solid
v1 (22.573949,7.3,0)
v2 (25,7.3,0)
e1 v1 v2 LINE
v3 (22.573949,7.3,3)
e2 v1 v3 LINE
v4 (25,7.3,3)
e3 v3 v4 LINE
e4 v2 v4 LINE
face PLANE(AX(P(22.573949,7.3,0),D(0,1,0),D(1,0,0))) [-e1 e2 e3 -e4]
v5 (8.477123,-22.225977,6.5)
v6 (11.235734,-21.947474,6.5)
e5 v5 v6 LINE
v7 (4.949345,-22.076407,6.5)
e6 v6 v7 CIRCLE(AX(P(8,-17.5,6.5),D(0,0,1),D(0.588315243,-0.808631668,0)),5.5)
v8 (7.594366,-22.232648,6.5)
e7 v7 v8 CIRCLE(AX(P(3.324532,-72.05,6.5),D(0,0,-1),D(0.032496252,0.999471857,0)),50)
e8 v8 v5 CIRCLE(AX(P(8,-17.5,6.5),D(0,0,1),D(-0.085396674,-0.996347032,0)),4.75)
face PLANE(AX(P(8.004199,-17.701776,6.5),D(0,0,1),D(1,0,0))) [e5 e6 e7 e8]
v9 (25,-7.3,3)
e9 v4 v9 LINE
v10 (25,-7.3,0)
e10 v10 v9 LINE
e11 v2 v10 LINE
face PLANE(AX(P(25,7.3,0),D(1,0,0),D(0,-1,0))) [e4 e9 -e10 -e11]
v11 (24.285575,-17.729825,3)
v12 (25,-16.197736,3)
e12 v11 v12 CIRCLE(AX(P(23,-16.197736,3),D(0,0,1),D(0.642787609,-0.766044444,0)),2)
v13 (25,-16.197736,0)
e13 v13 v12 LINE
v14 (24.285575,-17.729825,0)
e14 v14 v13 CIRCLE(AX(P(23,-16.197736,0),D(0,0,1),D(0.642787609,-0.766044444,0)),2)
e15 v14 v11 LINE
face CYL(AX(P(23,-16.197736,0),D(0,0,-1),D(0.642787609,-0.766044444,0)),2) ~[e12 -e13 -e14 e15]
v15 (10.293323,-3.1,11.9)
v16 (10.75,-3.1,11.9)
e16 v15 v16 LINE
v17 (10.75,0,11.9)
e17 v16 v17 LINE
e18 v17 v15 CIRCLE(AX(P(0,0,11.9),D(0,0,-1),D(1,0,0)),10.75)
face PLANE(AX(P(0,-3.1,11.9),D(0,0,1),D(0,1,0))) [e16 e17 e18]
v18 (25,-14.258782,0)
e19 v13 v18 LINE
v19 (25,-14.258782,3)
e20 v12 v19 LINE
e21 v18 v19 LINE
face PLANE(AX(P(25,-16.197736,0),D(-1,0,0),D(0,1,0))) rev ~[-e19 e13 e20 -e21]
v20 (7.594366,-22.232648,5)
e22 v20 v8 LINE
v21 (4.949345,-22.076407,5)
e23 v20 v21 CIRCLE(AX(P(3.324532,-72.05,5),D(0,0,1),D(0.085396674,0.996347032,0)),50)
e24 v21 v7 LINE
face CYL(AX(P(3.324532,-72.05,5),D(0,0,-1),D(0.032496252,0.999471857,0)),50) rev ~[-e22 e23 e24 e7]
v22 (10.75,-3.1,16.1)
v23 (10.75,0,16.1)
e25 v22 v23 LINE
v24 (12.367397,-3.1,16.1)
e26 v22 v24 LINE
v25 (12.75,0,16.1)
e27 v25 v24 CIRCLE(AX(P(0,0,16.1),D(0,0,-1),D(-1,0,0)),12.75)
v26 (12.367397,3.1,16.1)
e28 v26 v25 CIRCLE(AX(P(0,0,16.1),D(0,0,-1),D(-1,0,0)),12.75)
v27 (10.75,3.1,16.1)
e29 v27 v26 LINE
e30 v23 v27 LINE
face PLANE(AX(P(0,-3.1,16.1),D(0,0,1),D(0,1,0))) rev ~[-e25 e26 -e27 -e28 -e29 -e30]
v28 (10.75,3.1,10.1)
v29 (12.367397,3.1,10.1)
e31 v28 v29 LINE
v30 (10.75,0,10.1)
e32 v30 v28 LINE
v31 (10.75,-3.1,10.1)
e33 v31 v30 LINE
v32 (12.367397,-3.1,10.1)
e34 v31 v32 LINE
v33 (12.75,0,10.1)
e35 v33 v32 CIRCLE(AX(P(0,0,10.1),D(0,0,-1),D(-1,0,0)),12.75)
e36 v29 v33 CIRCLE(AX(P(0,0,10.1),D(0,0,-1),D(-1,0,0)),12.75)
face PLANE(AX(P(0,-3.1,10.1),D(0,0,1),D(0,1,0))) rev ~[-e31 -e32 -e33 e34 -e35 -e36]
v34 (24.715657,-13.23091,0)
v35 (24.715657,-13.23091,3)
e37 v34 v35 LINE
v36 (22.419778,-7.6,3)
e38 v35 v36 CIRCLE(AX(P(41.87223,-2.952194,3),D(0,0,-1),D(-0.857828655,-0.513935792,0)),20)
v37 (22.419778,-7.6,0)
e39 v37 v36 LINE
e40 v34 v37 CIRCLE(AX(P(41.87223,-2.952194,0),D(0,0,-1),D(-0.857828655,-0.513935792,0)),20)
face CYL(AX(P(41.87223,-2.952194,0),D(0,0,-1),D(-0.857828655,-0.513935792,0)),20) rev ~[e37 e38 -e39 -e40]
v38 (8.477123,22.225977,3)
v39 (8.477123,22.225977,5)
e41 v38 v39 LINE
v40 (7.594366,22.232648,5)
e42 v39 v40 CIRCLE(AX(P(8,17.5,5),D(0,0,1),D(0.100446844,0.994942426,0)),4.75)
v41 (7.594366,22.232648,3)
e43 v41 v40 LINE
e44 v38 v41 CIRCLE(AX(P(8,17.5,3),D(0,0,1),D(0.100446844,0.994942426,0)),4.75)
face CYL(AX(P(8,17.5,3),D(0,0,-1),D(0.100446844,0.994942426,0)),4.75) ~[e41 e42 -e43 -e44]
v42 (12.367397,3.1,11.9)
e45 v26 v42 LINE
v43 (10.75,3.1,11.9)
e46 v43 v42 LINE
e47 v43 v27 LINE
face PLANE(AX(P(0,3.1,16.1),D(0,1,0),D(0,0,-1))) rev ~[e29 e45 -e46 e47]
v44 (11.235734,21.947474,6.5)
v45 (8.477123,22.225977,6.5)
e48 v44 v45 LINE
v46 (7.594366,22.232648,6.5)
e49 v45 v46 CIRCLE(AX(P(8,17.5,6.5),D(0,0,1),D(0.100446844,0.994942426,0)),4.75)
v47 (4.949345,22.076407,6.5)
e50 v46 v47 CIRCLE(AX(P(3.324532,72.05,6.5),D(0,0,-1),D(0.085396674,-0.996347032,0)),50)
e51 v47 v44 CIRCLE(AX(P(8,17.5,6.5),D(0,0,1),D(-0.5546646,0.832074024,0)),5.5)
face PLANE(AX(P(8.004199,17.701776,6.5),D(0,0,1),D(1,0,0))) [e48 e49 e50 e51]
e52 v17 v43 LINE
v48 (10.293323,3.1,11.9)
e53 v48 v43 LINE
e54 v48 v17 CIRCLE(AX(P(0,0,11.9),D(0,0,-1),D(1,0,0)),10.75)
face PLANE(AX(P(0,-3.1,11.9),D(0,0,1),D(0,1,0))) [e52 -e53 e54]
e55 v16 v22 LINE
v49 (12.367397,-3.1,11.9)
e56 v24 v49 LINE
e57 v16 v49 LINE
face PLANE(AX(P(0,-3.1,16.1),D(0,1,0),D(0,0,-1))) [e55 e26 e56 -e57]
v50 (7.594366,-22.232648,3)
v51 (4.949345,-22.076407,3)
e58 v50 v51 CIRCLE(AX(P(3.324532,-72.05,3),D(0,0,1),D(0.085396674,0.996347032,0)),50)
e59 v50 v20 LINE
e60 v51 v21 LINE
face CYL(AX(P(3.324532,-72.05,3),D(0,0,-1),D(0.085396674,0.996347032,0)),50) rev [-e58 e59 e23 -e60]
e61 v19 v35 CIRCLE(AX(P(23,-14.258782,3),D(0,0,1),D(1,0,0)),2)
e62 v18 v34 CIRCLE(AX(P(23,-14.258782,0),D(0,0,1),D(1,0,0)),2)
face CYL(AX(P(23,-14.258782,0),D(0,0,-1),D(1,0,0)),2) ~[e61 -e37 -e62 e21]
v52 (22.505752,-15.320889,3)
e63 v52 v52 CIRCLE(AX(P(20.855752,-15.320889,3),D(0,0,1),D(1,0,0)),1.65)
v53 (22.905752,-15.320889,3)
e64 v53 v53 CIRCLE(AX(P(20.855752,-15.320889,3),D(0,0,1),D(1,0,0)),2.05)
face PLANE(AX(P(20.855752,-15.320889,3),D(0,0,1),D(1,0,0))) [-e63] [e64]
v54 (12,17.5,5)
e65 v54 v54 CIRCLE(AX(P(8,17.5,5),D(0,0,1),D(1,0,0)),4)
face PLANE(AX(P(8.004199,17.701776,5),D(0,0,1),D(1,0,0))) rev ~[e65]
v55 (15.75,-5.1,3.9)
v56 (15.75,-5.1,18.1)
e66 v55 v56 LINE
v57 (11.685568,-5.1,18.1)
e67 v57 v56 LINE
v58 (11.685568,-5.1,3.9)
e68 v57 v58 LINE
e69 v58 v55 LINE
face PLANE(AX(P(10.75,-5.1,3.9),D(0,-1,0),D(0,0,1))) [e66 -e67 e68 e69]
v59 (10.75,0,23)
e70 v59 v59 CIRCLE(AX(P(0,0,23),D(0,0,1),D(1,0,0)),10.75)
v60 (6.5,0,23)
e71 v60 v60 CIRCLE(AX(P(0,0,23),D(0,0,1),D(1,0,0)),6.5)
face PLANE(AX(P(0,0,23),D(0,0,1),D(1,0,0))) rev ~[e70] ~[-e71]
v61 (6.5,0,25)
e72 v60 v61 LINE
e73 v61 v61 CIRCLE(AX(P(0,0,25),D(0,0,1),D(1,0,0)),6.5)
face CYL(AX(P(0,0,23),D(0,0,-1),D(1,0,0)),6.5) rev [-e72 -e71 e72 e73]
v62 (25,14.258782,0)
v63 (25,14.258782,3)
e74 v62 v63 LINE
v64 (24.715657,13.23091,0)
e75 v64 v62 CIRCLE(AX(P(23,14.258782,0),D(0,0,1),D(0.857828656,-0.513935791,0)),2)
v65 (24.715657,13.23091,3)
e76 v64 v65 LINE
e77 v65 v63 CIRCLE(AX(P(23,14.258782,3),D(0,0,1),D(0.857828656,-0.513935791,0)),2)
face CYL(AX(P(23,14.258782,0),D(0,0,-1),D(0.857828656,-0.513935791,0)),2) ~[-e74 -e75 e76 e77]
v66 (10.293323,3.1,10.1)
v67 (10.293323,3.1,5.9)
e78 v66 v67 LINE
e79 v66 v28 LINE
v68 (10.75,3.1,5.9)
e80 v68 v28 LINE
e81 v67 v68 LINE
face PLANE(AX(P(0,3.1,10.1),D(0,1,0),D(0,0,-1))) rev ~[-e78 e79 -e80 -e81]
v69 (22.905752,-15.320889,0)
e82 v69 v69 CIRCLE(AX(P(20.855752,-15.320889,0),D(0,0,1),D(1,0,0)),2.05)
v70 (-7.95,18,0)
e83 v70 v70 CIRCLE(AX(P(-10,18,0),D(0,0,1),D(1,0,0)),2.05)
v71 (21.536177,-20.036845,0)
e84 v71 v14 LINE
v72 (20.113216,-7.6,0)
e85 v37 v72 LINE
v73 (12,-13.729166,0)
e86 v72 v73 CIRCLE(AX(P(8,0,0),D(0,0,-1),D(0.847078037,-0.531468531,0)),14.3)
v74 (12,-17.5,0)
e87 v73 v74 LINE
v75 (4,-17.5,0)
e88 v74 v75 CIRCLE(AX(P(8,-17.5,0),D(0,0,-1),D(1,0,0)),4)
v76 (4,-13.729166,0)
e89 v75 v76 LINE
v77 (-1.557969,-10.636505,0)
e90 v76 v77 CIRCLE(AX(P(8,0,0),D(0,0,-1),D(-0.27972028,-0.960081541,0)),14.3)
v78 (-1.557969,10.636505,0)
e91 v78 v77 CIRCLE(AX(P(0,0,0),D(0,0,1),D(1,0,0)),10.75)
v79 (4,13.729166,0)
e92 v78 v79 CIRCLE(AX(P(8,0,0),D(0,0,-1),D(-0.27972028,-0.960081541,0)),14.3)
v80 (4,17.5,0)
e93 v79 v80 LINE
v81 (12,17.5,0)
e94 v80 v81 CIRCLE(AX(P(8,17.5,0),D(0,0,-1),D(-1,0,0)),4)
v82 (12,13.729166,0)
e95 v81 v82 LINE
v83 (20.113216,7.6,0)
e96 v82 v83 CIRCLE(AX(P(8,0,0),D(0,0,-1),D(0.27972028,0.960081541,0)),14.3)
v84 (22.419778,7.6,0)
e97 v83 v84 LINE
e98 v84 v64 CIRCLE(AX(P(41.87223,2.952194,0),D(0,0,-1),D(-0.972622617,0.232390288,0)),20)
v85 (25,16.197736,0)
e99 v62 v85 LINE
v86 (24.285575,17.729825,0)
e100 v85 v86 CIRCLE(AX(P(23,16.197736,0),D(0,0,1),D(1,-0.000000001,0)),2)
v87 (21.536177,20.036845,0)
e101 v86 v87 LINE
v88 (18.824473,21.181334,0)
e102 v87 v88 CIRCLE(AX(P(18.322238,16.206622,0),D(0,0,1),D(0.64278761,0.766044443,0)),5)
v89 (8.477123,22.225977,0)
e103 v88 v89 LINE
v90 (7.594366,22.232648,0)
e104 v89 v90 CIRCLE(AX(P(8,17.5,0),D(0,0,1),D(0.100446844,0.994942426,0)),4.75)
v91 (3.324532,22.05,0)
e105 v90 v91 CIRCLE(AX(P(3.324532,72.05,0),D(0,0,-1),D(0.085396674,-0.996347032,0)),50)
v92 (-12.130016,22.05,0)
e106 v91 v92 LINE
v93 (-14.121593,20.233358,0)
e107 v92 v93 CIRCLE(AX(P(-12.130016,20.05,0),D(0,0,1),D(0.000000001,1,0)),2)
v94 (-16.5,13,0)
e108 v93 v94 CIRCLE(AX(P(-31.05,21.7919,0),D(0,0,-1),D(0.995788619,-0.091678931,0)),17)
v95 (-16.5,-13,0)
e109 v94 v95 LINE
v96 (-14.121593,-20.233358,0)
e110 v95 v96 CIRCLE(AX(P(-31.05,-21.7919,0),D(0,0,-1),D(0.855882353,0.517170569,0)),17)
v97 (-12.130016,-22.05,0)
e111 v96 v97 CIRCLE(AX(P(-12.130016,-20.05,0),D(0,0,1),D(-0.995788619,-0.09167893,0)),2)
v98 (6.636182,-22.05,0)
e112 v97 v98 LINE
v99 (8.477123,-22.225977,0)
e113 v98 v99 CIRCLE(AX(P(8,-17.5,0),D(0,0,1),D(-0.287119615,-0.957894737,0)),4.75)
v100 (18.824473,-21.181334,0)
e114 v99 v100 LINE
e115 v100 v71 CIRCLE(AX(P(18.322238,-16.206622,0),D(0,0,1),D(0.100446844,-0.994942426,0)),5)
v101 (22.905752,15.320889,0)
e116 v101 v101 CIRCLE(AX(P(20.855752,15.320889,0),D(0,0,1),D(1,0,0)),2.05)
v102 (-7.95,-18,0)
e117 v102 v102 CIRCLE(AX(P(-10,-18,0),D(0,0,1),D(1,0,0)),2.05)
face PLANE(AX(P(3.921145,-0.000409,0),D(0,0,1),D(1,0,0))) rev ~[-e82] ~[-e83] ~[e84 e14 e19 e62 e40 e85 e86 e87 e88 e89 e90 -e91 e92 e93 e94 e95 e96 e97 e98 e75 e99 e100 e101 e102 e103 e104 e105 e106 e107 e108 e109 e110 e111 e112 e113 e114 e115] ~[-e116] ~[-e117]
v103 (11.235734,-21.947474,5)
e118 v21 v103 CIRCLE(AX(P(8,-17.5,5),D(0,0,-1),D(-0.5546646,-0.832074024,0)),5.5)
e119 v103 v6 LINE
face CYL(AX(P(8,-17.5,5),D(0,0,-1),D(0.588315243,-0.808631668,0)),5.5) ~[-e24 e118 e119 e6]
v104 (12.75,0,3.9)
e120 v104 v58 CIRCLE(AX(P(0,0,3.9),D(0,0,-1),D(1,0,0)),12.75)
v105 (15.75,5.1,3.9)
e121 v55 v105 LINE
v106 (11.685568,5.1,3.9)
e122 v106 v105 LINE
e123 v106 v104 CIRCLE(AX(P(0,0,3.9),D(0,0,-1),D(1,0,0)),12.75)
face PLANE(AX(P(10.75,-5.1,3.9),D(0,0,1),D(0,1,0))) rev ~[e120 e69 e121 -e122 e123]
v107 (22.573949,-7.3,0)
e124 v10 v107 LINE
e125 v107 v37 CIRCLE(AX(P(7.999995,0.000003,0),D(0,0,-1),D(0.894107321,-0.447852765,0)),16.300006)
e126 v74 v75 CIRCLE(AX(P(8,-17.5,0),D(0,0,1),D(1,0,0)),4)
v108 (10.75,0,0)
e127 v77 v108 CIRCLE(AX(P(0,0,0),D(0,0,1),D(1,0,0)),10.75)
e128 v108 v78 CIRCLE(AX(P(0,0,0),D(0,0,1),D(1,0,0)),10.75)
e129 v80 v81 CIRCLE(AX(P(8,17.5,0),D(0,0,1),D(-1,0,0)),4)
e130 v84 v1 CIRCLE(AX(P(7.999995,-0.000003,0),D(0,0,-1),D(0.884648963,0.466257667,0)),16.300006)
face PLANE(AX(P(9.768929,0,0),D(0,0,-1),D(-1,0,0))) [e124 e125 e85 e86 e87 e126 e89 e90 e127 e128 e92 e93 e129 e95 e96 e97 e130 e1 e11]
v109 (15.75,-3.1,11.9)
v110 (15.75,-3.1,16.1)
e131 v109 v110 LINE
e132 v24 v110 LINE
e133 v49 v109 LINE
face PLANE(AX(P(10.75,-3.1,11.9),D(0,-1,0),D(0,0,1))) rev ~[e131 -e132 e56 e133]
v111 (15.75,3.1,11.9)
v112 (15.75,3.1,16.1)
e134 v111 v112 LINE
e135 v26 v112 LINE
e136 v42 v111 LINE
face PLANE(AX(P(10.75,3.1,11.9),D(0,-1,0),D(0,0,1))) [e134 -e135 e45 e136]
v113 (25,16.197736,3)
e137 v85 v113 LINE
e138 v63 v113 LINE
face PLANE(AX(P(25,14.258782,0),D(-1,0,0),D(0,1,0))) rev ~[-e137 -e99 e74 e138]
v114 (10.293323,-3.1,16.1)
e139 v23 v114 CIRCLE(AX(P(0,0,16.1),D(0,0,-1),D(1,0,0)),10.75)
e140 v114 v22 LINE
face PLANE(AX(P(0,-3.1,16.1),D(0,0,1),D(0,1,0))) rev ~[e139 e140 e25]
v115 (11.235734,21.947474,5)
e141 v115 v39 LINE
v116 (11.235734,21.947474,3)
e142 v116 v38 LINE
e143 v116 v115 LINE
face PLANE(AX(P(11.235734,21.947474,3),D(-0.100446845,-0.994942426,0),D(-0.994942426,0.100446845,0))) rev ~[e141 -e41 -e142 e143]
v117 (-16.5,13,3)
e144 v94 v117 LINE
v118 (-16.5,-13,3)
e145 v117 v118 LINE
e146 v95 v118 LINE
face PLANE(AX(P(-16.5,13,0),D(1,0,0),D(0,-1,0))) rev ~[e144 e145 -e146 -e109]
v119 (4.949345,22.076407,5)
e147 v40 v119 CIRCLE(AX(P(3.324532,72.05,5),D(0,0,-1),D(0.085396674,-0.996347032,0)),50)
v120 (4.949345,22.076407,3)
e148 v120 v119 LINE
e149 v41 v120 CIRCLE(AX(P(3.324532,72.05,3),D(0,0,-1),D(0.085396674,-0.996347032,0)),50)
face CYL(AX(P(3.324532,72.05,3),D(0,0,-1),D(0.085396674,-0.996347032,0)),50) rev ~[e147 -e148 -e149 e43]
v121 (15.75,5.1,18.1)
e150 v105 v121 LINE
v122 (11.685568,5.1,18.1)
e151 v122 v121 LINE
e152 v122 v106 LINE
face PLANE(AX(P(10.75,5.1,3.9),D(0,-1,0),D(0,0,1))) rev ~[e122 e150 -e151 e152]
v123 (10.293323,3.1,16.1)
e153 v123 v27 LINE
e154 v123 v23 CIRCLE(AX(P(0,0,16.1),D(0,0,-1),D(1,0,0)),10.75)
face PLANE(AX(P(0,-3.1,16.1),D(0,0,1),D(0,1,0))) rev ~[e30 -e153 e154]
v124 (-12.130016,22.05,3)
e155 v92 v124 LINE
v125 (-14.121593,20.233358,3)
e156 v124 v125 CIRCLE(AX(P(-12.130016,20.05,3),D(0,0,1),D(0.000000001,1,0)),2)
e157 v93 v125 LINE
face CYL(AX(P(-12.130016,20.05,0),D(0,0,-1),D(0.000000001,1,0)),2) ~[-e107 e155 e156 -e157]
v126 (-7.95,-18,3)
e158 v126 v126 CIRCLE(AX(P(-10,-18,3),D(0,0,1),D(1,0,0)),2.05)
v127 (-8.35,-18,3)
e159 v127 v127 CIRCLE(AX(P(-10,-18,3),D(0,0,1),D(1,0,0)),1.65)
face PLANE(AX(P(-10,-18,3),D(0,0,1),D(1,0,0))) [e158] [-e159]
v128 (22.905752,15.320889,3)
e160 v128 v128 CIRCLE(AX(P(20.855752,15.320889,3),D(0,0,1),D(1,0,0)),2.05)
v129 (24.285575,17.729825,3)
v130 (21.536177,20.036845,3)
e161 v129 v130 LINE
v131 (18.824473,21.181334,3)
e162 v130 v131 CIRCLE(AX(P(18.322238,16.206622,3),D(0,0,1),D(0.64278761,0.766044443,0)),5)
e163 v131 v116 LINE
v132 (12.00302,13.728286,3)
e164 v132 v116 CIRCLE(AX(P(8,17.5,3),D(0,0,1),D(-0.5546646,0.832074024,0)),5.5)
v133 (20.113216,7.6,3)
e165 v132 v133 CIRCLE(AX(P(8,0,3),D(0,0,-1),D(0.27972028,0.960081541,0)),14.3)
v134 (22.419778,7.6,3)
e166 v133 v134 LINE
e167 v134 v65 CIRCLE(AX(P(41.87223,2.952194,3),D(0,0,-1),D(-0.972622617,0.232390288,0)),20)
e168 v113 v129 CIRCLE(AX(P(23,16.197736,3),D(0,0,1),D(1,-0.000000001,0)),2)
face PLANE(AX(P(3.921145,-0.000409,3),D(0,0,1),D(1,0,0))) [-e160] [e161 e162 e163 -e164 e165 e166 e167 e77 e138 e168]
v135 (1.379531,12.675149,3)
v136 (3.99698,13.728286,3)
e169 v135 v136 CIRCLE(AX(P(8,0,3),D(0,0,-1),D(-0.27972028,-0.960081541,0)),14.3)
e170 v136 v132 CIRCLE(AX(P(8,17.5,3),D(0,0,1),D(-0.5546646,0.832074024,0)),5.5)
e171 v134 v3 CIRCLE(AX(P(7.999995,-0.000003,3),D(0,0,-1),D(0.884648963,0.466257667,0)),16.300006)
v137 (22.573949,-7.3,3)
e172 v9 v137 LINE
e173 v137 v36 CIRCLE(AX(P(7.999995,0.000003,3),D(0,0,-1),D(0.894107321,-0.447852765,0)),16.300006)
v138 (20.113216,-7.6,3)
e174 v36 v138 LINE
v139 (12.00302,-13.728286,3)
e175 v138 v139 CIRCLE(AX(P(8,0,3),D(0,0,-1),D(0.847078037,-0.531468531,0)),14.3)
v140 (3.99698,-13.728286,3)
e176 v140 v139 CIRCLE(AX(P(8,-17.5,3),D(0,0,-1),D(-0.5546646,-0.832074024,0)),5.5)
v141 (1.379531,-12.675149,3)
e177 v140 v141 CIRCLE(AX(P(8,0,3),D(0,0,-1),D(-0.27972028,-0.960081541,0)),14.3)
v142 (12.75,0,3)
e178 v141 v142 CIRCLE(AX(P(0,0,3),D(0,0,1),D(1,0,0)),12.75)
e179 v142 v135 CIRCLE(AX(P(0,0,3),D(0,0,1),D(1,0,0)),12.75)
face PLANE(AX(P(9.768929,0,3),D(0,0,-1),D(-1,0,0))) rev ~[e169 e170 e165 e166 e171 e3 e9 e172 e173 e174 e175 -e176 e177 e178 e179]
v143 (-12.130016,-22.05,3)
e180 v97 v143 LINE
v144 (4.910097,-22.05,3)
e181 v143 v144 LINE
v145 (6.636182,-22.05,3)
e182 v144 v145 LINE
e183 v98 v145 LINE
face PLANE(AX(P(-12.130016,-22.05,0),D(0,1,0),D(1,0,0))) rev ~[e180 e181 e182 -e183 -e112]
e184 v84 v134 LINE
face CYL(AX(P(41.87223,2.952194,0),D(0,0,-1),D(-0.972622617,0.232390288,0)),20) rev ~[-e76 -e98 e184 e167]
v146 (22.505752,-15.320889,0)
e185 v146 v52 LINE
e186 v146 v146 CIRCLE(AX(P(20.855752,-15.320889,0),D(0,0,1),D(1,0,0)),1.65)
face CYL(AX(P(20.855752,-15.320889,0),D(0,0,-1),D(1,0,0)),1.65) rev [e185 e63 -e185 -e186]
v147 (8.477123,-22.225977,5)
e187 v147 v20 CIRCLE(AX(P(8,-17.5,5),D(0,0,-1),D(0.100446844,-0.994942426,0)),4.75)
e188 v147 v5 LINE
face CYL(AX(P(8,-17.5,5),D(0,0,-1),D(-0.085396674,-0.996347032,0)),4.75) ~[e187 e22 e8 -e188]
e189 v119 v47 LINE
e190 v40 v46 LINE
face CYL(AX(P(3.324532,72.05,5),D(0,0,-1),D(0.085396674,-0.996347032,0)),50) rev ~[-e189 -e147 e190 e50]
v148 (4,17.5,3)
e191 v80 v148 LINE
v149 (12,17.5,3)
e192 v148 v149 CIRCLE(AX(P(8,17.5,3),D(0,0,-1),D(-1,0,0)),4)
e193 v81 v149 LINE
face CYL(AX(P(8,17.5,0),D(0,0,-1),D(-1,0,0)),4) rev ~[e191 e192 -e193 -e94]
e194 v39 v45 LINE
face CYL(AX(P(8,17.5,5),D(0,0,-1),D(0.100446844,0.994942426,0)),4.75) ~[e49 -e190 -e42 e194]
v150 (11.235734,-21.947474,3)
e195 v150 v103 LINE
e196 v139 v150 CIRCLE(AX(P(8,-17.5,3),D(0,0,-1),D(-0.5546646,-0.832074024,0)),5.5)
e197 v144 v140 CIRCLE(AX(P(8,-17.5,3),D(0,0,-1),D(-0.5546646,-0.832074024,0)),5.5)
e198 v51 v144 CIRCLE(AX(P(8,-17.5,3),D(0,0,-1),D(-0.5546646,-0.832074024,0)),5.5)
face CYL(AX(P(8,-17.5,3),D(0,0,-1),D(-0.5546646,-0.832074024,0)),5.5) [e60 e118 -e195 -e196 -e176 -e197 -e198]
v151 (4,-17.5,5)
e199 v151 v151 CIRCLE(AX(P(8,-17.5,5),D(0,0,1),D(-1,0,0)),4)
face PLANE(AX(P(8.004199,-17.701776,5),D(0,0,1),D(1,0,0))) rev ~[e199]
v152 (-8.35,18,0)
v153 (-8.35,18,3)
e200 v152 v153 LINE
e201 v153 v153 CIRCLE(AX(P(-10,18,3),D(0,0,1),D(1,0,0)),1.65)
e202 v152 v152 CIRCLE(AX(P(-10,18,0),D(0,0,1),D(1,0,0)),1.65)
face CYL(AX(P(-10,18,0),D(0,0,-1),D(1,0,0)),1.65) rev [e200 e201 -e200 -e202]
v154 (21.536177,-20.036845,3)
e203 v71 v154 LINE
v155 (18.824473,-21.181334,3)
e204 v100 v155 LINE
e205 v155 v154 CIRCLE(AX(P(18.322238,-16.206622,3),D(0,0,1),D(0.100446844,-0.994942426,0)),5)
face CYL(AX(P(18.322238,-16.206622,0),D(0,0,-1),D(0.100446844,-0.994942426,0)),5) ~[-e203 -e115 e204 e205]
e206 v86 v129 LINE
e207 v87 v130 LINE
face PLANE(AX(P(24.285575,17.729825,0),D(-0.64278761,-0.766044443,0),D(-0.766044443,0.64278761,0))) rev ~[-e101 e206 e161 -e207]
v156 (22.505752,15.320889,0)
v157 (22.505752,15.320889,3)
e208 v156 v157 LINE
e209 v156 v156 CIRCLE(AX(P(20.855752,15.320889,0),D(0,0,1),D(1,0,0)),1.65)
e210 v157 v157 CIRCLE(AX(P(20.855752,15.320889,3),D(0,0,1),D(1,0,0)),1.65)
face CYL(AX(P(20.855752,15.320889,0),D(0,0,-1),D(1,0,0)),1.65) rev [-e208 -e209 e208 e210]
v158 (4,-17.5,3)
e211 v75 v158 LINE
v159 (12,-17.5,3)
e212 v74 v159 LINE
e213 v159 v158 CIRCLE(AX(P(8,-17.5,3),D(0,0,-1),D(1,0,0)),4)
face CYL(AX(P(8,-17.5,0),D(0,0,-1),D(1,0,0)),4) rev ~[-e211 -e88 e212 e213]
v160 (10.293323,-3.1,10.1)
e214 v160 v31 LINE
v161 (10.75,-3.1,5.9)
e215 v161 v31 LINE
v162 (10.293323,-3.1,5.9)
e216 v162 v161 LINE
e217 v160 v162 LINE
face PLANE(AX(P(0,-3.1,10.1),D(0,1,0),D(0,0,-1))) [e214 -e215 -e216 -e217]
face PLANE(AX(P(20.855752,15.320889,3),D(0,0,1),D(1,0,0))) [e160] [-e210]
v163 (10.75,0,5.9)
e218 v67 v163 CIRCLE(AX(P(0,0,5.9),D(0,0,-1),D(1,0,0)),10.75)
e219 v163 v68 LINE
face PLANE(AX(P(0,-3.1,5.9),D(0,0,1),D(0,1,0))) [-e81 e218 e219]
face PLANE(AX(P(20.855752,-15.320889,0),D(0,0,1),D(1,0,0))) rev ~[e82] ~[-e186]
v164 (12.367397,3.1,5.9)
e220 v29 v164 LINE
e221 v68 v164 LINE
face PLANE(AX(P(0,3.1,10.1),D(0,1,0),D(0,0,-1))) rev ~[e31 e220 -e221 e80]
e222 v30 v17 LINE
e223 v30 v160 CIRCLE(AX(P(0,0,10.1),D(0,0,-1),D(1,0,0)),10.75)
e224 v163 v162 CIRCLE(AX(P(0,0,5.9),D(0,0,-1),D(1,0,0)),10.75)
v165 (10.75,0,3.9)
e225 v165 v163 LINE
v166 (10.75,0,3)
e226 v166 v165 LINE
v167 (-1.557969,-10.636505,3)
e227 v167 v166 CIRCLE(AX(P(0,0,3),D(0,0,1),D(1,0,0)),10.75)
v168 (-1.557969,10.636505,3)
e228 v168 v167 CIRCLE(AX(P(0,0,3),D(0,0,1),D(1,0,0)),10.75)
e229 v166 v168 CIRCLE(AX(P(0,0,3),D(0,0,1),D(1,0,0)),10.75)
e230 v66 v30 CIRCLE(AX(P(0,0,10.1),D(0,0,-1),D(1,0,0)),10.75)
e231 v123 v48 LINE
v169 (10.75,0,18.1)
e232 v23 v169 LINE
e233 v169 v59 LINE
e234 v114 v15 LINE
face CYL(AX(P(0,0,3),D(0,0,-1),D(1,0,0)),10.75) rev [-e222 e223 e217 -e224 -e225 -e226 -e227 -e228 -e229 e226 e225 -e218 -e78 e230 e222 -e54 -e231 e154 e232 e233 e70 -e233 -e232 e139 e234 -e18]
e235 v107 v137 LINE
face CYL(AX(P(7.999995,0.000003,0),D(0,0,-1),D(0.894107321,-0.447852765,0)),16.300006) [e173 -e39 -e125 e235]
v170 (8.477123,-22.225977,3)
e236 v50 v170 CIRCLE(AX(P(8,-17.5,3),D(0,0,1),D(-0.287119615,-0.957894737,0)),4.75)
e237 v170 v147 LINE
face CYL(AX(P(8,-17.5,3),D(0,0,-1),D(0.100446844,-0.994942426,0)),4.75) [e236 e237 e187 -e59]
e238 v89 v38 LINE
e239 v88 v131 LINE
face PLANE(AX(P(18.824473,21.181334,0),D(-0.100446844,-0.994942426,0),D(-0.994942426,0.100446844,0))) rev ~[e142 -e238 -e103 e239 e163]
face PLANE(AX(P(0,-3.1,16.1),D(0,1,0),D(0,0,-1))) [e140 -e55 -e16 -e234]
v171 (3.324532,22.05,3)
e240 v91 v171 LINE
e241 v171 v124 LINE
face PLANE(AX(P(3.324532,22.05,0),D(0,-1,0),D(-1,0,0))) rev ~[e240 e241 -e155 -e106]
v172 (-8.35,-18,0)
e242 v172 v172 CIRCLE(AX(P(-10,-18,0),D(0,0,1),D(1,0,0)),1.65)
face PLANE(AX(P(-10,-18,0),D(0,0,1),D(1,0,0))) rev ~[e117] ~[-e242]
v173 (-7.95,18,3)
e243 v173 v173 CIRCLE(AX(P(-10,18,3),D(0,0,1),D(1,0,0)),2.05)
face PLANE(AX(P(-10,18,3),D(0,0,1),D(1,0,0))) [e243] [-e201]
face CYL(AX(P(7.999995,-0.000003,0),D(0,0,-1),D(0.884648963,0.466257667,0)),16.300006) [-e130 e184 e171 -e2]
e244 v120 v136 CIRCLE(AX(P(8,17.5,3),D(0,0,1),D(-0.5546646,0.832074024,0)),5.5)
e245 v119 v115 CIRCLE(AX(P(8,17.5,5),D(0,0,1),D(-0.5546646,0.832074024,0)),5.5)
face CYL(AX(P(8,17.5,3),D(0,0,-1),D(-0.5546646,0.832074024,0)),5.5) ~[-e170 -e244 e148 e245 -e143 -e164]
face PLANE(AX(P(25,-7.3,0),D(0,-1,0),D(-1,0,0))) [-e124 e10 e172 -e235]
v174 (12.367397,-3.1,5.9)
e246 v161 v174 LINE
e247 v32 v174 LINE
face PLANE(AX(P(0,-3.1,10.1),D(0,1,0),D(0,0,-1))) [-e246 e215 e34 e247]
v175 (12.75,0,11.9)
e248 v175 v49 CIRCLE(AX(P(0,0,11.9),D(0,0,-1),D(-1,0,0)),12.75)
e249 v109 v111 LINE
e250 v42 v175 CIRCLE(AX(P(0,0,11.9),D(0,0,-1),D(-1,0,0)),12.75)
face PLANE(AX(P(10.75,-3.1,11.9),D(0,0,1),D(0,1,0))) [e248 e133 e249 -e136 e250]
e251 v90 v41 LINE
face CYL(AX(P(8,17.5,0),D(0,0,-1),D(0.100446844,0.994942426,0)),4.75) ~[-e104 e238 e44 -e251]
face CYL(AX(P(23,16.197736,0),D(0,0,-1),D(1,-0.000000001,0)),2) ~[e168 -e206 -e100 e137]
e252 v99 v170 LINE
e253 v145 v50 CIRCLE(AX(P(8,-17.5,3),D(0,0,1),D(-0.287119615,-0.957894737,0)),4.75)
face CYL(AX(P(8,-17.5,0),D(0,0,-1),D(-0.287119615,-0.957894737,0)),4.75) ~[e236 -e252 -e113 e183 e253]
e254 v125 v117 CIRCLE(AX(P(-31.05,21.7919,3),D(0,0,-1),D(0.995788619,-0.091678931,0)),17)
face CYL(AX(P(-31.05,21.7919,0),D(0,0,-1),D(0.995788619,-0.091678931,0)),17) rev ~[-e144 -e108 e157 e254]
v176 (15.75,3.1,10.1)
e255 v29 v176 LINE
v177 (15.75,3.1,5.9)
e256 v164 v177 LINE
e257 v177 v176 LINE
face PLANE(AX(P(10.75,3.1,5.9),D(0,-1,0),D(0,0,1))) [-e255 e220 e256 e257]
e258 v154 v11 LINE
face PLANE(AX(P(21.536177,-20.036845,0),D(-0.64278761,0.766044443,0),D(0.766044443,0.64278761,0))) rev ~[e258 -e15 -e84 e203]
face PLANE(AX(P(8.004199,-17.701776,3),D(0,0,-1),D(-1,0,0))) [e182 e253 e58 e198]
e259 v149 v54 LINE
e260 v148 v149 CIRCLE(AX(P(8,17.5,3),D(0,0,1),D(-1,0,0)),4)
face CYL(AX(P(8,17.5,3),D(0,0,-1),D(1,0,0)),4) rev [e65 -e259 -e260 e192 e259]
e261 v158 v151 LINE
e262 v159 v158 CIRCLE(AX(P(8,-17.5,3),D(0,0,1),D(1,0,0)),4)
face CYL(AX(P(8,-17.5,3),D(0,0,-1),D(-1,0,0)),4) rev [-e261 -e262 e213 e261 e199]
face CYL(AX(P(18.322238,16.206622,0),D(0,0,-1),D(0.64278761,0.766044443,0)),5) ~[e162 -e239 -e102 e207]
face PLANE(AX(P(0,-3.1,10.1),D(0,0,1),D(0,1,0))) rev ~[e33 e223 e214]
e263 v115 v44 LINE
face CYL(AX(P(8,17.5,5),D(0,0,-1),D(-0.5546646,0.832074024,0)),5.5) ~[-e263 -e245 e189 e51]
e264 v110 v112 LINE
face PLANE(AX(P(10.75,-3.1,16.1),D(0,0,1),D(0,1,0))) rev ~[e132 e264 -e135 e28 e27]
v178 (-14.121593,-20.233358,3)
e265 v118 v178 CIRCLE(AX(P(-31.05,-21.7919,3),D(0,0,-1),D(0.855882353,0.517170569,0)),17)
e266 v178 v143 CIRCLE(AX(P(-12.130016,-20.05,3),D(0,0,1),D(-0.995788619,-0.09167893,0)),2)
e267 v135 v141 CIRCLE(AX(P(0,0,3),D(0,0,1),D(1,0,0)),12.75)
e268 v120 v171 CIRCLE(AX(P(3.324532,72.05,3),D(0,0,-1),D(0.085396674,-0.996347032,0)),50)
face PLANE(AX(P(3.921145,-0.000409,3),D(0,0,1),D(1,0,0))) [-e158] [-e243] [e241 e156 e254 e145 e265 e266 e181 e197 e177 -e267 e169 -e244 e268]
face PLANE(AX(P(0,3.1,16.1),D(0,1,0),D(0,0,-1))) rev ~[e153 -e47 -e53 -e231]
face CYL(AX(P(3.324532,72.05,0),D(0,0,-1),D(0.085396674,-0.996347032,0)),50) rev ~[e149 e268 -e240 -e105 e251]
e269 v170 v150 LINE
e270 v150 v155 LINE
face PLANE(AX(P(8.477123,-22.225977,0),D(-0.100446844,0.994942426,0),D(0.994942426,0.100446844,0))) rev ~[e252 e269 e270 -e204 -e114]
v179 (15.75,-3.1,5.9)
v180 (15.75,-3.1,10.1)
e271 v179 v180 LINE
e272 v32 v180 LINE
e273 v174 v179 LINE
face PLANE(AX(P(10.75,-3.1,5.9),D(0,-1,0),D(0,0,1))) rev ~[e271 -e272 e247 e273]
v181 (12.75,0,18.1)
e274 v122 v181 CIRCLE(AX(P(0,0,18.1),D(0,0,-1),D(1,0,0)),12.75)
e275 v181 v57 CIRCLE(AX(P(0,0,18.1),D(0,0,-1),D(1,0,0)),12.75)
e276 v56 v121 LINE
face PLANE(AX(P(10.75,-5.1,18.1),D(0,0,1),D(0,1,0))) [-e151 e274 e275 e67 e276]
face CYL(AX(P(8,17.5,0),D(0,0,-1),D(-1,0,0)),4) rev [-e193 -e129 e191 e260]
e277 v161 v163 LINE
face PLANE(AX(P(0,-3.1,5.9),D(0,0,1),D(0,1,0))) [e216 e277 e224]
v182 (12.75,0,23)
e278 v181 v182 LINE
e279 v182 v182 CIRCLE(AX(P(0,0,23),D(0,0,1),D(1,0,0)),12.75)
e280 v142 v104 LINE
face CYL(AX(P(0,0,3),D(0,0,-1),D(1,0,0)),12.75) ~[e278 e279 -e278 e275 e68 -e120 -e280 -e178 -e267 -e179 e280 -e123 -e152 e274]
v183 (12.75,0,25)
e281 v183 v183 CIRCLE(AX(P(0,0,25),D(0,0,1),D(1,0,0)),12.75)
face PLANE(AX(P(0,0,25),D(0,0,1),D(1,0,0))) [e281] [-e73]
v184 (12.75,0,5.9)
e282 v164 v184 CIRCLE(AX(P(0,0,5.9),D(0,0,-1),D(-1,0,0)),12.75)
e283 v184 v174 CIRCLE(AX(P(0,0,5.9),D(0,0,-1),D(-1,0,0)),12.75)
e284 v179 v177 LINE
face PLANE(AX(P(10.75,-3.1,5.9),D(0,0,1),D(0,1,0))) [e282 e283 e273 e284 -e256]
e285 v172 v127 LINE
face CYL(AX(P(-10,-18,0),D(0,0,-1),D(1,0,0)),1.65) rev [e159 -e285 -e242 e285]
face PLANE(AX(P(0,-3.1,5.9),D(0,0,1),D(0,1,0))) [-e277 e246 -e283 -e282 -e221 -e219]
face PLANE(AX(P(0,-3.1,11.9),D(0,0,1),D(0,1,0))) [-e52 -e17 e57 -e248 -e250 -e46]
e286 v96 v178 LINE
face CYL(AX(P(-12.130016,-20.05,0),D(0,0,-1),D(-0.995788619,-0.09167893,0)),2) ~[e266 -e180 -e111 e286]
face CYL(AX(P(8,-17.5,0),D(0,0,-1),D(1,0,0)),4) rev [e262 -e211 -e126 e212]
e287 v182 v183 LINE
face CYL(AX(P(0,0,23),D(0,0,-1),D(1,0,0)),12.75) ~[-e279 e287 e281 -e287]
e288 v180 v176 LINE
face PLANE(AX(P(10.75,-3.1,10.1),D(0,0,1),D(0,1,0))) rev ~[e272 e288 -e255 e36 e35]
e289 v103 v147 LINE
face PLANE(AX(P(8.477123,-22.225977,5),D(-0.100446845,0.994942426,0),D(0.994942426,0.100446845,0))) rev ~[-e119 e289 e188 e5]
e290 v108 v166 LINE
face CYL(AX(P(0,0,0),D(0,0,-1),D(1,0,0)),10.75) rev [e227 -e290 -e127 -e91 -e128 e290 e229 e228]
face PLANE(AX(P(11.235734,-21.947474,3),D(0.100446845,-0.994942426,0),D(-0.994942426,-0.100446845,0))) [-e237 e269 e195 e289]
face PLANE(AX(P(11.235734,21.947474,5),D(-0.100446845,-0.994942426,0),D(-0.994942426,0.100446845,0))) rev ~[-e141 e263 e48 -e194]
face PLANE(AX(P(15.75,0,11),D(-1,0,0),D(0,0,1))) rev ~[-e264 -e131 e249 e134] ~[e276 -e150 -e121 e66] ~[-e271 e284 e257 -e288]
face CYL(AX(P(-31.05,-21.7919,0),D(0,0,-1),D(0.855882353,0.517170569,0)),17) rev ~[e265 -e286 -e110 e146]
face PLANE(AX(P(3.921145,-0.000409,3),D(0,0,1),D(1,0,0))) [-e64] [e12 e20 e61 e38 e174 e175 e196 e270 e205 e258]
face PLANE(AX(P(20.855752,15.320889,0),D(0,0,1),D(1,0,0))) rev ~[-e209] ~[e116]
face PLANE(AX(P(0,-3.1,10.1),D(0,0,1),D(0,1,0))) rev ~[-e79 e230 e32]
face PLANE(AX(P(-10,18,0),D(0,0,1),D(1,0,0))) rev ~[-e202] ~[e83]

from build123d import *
from build123d.topology import SkipClean

# Parameters (mm, degrees)
SKETCH_1_R               = 2.05
EXTRUDE_1_DEPTH          = 3
EXTRUDE_START            = -3
SKETCH_2_R               = 2.05
SKETCH_2_R_2             = 1.65
SKETCH_2_R_3             = 6
EXTRUDE_2_DEPTH          = 3
SKETCH_3_R               = 4
EXTRUDE_3_DEPTH          = 2
EXTRUDE_4_DEPTH          = 1.5
SKETCH_5_R               = 12.75
SKETCH_5_R_2             = 10.75
EXTRUDE_5_DEPTH          = 20
CUT_EXTRUDE_START        = -3
SKETCH_6_R               = 10.75
CUT_EXTRUDE_1_DEPTH      = 3
SKETCH_8_R               = 12.75
SKETCH_8_R_2             = 6.5
EXTRUDE_6_DEPTH          = 2
CUT_EXTRUDE_2_REACH      = 43.774
CUT_EXTRUDE_2_END_RADIUS = 12.75
SKETCH_9_W               = 4.2
SKETCH_9_H               = 6.2
SKETCH_10_W              = 14.2
SKETCH_10_H              = 10.2
SKETCH_10_W_2            = 4.2
SKETCH_10_H_2            = 6.2
EXTRUDE_9_DEPTH          = 5


with BuildPart() as part:
    # Эскиз1 → Бобышка-Вытянуть1 (new body)
    with BuildSketch(Plane.XY):
        with BuildLine():
            Line((-12.130016239, -22.05), (6.63618183, -22.05))
            ThreePointArc((6.63618183, -22.05), (7.548005274, -22.228445915), (8.47712251, -22.225976525))
            Line((8.47712251, -22.225976525), (18.824472693, -21.181334498))
            ThreePointArc((18.824472693, -21.181334498), (20.266447405, -20.813145093), (21.53617652, -20.036844583))
            Line((21.53617652, -20.036844583), (24.285575219, -17.729825148))
            ThreePointArc((24.285575219, -17.729825148), (24.812615574, -17.042972786), (25, -16.197736262))
            Line((25, -16.197736262), (25, -14.258781673))
            ThreePointArc((25, -14.258781673), (24.927604034, -13.725543744), (24.715657311, -13.230910089))
            ThreePointArc((24.715657311, -13.230910089), (23.352457929, -10.503222461), (22.419778084, -7.6))
            Line((22.419778084, -7.6), (20.113215923, -7.6))
            ThreePointArc((20.113215923, -7.6), (16.619779633, -11.410056927), (12, -13.729166034))
            Line((12, -13.729166034), (12, -17.5))
            ThreePointArc((12, -17.5), (8, -21.5), (4, -17.5))
            Line((4, -17.5), (4, -13.729166034))
            ThreePointArc((4, -13.729166034), (-6.3, 0), (4, 13.729166034))
            Line((4, 13.729166034), (4, 17.5))
            ThreePointArc((4, 17.5), (8, 21.5), (12, 17.5))
            Line((12, 17.5), (12, 13.729166034))
            ThreePointArc((12, 13.729166034), (16.619779633, 11.410056927), (20.113215923, 7.6))
            Line((20.113215923, 7.6), (22.419778084, 7.6))
            ThreePointArc((22.419778084, 7.6), (23.352457929, 10.503222461), (24.715657311, 13.230910089))
            ThreePointArc((24.715657311, 13.230910089), (24.927604034, 13.725543744), (25, 14.258781673))
            Line((25, 14.258781673), (25, 16.197736262))
            ThreePointArc((25, 16.197736262), (24.812615574, 17.042972786), (24.285575219, 17.729825148))
            Line((24.285575219, 17.729825148), (21.53617652, 20.036844583))
            ThreePointArc((21.53617652, 20.036844583), (20.266447405, 20.813145093), (18.824472693, 21.181334498))
            Line((18.824472693, 21.181334498), (8.47712251, 22.225976525))
            ThreePointArc((8.47712251, 22.225976525), (8.035899486, 22.249864338), (7.594365799, 22.232648402))
            ThreePointArc((7.594365799, 22.232648402), (5.461401325, 22.09568297), (3.324532109, 22.05))
            Line((3.324532109, 22.05), (-12.130016239, 22.05))
            ThreePointArc((-12.130016239, 22.05), (-13.477844915, 21.527618984), (-14.121593477, 20.233357861))
            ThreePointArc((-14.121593477, 20.233357861), (-14.900607263, 16.481804182), (-16.5, 13))
            Line((-16.5, 13), (-16.5, -13))
            ThreePointArc((-16.5, -13), (-14.900607263, -16.481804182), (-14.121593477, -20.233357861))
            ThreePointArc((-14.121593477, -20.233357861), (-13.477844915, -21.527618984), (-12.130016239, -22.05))
        make_face()
        with Locations((-10, -18)):
            Circle(SKETCH_1_R, mode=Mode.SUBTRACT)
        with Locations((20.855752194, -15.320888862)):
            Circle(SKETCH_1_R, mode=Mode.SUBTRACT)
        with Locations((20.855752194, 15.320888862)):
            Circle(SKETCH_1_R, mode=Mode.SUBTRACT)
        with Locations((-10, 18)):
            Circle(SKETCH_1_R, mode=Mode.SUBTRACT)
    extrude(amount=EXTRUDE_1_DEPTH)

    # Эскиз2 → Бобышка-Вытянуть2 (add)
    # profile 1 of 5: a face of its own
    with SkipClean():  # the faces are left unmerged after this step: merging them gives an invalid solid
        with BuildSketch(Plane.XY.offset(3).offset(EXTRUDE_START)):
            with Locations((20.855752194, -15.320888862)):
                Circle(SKETCH_2_R)
            with Locations((20.855752194, -15.320888862)):
                Circle(SKETCH_2_R_2, mode=Mode.SUBTRACT)
        # profile 2 of 5: a face of its own
        with BuildSketch(Plane.XY.offset(3).offset(EXTRUDE_START)):
            with Locations((-10, -18)):
                Circle(SKETCH_2_R)
            with Locations((-10, -18)):
                Circle(SKETCH_2_R_2, mode=Mode.SUBTRACT)
        # profile 3 of 5: a face of its own
        with BuildSketch(Plane.XY.offset(3).offset(EXTRUDE_START)):
            with Locations((20.855752194, 15.320888862)):
                Circle(SKETCH_2_R)
            with Locations((20.855752194, 15.320888862)):
                Circle(SKETCH_2_R_2, mode=Mode.SUBTRACT)
        # profile 4 of 5: a face of its own
        with BuildSketch(Plane.XY.offset(3).offset(EXTRUDE_START)):
            with Locations((-10, 18)):
                Circle(SKETCH_2_R)
            with Locations((-10, 18)):
                Circle(SKETCH_2_R_2, mode=Mode.SUBTRACT)
        # profile 5 of 5: a face of its own
        with BuildSketch(Plane.XY.offset(3).offset(EXTRUDE_START)):
            with BuildLine():
                Line((20.113215923, 7.6), (22.419778084, 7.6))
                ThreePointArc((22.419778084, 7.6), (22.497639732, 7.450398794), (22.573949362, 7.3))
                Line((22.573949362, 7.3), (25, 7.3))
                Line((25, 7.3), (25, -7.3))
                Line((25, -7.3), (22.573949362, -7.3))
                ThreePointArc((22.573949362, -7.3), (22.497639732, -7.450398794), (22.419778084, -7.6))
                Line((22.419778084, -7.6), (20.113215923, -7.6))
                ThreePointArc((20.113215923, -7.6), (16.619779633, -11.410056927), (12, -13.729166034))
                Line((12, -13.729166034), (12, -17.5))
                ThreePointArc((12, -17.5), (8, -13.5), (4, -17.5))
                Line((4, -17.5), (4, -13.729166034))
                ThreePointArc((4, -13.729166034), (-6.3, 0), (4, 13.729166034))
                Line((4, 13.729166034), (4, 17.5))
                ThreePointArc((4, 17.5), (8, 13.5), (12, 17.5))
                Line((12, 17.5), (12, 13.729166034))
                ThreePointArc((12, 13.729166034), (16.619779633, 11.410056927), (20.113215923, 7.6))
            make_face()
            Circle(SKETCH_2_R_3, mode=Mode.SUBTRACT)
        extrude(amount=EXTRUDE_2_DEPTH)

    # Эскиз3 → Бобышка-Вытянуть3 (add)
    # profile 1 of 2: a face of its own
    with SkipClean():  # the faces are left unmerged after this step: merging them gives an invalid solid
        with BuildSketch(Plane.XY.offset(3)):
            with BuildLine():
                Line((11.235733835, 21.947474176), (8.47712251, 22.225976525))
                ThreePointArc((8.47712251, 22.225976525), (8.035899486, 22.249864338), (7.594365799, 22.232648402))
                ThreePointArc((7.594365799, 22.232648402), (6.272890386, 22.137003862), (4.949344701, 22.076407133))
                ThreePointArc((4.949344701, 22.076407133), (7.887219492, 12.001156435), (11.235733835, 21.947474176))
            make_face()
            with Locations((8, 17.5)):
                Circle(SKETCH_3_R, mode=Mode.SUBTRACT)
        # profile 2 of 2: a face of its own
        with BuildSketch(Plane.XY.offset(3)):
            with BuildLine():
                Line((11.235733835, -21.947474176), (8.47712251, -22.225976525))
                ThreePointArc((8.47712251, -22.225976525), (8.035899486, -22.249864338), (7.594365799, -22.232648402))
                ThreePointArc((7.594365799, -22.232648402), (6.272890386, -22.137003862), (4.949344701, -22.076407133))
                ThreePointArc((4.949344701, -22.076407133), (7.887219492, -12.001156435), (11.235733835, -21.947474176))
            make_face()
            with Locations(Location((8, -17.5, 0), (0, 0, 180))):
                Circle(SKETCH_3_R, mode=Mode.SUBTRACT)
        extrude(amount=EXTRUDE_3_DEPTH)

    # Эскиз4 → Бобышка-Вытянуть4 (add)
    with SkipClean():  # the faces are left unmerged after this step: merging them gives an invalid solid
        with BuildSketch(Plane.XY.offset(5)):
            with BuildLine():
                Line((8.47712251, -22.225976525), (11.235733835, -21.947474176))
                ThreePointArc((11.235733835, -21.947474176), (7.887219492, -12.001156435), (4.949344701, -22.076407133))
                ThreePointArc((4.949344701, -22.076407133), (6.272890386, -22.137003862), (7.594365799, -22.232648402))
                ThreePointArc((7.594365799, -22.232648402), (8.035899486, -22.249864338), (8.47712251, -22.225976525))
            make_face()
            with BuildLine():
                Line((11.235733835, 21.947474176), (8.47712251, 22.225976525))
                ThreePointArc((8.47712251, 22.225976525), (8.035899486, 22.249864338), (7.594365799, 22.232648402))
                ThreePointArc((7.594365799, 22.232648402), (6.272890386, 22.137003862), (4.949344701, 22.076407133))
                ThreePointArc((4.949344701, 22.076407133), (7.887219492, 12.001156435), (11.235733835, 21.947474176))
            make_face()
        extrude(amount=EXTRUDE_4_DEPTH)

    # Эскиз5 → Бобышка-Вытянуть5 (add)
    with SkipClean():  # the faces are left unmerged after this step: merging them gives an invalid solid
        with BuildSketch(Plane.XY.offset(3)):
            Circle(SKETCH_5_R)
            Circle(SKETCH_5_R_2, mode=Mode.SUBTRACT)
        extrude(amount=EXTRUDE_5_DEPTH)

    # Эскиз6 → Вырез-Вытянуть1 (cut)
    with SkipClean():  # the faces are left unmerged after this step: merging them gives an invalid solid
        with BuildSketch(Plane.XY.offset(3).offset(CUT_EXTRUDE_START)):
            Circle(SKETCH_6_R)
        extrude(amount=CUT_EXTRUDE_1_DEPTH, mode=Mode.SUBTRACT)

    # Эскиз8 → Бобышка-Вытянуть6 (add)
    with SkipClean():  # the faces are left unmerged after this step: merging them gives an invalid solid
        with BuildSketch(Plane.XY.offset(23)):
            Circle(SKETCH_8_R)
            Circle(SKETCH_8_R_2, mode=Mode.SUBTRACT)
        extrude(amount=EXTRUDE_6_DEPTH)

    # Вырез-Вытянуть2: up to this cylinder (the profile starts inside it)
    with SkipClean():  # the faces are left unmerged after this step: merging them gives an invalid solid
        cut_extrude_2_end = Plane(origin=(0, 0, 11), z_dir=(0, 0, -1)) * Cylinder(CUT_EXTRUDE_2_END_RADIUS, 120.048, mode=Mode.PRIVATE)
        # Эскиз9 → Вырез-Вытянуть2 (cut, up to the surface)
        with BuildSketch(Plane(origin=(0, 0, 0), x_dir=(0, 0, -1), z_dir=(1, 0, 0)), mode=Mode.PRIVATE) as cut_extrude_2_sk1:
            with Locations((-8, 0)):
                Rectangle(SKETCH_9_W, SKETCH_9_H)
        cut_extrude_2_tool1 = extrude(cut_extrude_2_sk1.sketch, amount=CUT_EXTRUDE_2_REACH, mode=Mode.PRIVATE) & cut_extrude_2_end
        add(cut_extrude_2_tool1.solids().sort_by_distance((0, 0, 8))[0], mode=Mode.SUBTRACT)
        # Эскиз9 → Вырез-Вытянуть2 (cut, up to the surface)
        with BuildSketch(Plane(origin=(0, 0, 0), x_dir=(0, 0, -1), z_dir=(1, 0, 0)), mode=Mode.PRIVATE) as cut_extrude_2_sk2:
            with Locations((-14, 0)):
                Rectangle(SKETCH_9_W, SKETCH_9_H)
        cut_extrude_2_tool2 = extrude(cut_extrude_2_sk2.sketch, amount=CUT_EXTRUDE_2_REACH, mode=Mode.PRIVATE) & cut_extrude_2_end
        add(cut_extrude_2_tool2.solids().sort_by_distance((0, 0, 14))[0], mode=Mode.SUBTRACT)

    # Эскиз10 → Бобышка-Вытянуть9 (add)
    with SkipClean():  # the faces are left unmerged after this step: merging them gives an invalid solid
        with BuildSketch(Plane.ZY.offset(-10.75)):
            with Locations((11, 0)):
                Rectangle(SKETCH_10_W, SKETCH_10_H)
            with Locations((14, 0)):
                Rectangle(SKETCH_10_W_2, SKETCH_10_H_2, mode=Mode.SUBTRACT)
            with Locations((8, 0)):
                Rectangle(SKETCH_10_W_2, SKETCH_10_H_2, mode=Mode.SUBTRACT)
        extrude(amount=-EXTRUDE_9_DEPTH)


solid = part.part
